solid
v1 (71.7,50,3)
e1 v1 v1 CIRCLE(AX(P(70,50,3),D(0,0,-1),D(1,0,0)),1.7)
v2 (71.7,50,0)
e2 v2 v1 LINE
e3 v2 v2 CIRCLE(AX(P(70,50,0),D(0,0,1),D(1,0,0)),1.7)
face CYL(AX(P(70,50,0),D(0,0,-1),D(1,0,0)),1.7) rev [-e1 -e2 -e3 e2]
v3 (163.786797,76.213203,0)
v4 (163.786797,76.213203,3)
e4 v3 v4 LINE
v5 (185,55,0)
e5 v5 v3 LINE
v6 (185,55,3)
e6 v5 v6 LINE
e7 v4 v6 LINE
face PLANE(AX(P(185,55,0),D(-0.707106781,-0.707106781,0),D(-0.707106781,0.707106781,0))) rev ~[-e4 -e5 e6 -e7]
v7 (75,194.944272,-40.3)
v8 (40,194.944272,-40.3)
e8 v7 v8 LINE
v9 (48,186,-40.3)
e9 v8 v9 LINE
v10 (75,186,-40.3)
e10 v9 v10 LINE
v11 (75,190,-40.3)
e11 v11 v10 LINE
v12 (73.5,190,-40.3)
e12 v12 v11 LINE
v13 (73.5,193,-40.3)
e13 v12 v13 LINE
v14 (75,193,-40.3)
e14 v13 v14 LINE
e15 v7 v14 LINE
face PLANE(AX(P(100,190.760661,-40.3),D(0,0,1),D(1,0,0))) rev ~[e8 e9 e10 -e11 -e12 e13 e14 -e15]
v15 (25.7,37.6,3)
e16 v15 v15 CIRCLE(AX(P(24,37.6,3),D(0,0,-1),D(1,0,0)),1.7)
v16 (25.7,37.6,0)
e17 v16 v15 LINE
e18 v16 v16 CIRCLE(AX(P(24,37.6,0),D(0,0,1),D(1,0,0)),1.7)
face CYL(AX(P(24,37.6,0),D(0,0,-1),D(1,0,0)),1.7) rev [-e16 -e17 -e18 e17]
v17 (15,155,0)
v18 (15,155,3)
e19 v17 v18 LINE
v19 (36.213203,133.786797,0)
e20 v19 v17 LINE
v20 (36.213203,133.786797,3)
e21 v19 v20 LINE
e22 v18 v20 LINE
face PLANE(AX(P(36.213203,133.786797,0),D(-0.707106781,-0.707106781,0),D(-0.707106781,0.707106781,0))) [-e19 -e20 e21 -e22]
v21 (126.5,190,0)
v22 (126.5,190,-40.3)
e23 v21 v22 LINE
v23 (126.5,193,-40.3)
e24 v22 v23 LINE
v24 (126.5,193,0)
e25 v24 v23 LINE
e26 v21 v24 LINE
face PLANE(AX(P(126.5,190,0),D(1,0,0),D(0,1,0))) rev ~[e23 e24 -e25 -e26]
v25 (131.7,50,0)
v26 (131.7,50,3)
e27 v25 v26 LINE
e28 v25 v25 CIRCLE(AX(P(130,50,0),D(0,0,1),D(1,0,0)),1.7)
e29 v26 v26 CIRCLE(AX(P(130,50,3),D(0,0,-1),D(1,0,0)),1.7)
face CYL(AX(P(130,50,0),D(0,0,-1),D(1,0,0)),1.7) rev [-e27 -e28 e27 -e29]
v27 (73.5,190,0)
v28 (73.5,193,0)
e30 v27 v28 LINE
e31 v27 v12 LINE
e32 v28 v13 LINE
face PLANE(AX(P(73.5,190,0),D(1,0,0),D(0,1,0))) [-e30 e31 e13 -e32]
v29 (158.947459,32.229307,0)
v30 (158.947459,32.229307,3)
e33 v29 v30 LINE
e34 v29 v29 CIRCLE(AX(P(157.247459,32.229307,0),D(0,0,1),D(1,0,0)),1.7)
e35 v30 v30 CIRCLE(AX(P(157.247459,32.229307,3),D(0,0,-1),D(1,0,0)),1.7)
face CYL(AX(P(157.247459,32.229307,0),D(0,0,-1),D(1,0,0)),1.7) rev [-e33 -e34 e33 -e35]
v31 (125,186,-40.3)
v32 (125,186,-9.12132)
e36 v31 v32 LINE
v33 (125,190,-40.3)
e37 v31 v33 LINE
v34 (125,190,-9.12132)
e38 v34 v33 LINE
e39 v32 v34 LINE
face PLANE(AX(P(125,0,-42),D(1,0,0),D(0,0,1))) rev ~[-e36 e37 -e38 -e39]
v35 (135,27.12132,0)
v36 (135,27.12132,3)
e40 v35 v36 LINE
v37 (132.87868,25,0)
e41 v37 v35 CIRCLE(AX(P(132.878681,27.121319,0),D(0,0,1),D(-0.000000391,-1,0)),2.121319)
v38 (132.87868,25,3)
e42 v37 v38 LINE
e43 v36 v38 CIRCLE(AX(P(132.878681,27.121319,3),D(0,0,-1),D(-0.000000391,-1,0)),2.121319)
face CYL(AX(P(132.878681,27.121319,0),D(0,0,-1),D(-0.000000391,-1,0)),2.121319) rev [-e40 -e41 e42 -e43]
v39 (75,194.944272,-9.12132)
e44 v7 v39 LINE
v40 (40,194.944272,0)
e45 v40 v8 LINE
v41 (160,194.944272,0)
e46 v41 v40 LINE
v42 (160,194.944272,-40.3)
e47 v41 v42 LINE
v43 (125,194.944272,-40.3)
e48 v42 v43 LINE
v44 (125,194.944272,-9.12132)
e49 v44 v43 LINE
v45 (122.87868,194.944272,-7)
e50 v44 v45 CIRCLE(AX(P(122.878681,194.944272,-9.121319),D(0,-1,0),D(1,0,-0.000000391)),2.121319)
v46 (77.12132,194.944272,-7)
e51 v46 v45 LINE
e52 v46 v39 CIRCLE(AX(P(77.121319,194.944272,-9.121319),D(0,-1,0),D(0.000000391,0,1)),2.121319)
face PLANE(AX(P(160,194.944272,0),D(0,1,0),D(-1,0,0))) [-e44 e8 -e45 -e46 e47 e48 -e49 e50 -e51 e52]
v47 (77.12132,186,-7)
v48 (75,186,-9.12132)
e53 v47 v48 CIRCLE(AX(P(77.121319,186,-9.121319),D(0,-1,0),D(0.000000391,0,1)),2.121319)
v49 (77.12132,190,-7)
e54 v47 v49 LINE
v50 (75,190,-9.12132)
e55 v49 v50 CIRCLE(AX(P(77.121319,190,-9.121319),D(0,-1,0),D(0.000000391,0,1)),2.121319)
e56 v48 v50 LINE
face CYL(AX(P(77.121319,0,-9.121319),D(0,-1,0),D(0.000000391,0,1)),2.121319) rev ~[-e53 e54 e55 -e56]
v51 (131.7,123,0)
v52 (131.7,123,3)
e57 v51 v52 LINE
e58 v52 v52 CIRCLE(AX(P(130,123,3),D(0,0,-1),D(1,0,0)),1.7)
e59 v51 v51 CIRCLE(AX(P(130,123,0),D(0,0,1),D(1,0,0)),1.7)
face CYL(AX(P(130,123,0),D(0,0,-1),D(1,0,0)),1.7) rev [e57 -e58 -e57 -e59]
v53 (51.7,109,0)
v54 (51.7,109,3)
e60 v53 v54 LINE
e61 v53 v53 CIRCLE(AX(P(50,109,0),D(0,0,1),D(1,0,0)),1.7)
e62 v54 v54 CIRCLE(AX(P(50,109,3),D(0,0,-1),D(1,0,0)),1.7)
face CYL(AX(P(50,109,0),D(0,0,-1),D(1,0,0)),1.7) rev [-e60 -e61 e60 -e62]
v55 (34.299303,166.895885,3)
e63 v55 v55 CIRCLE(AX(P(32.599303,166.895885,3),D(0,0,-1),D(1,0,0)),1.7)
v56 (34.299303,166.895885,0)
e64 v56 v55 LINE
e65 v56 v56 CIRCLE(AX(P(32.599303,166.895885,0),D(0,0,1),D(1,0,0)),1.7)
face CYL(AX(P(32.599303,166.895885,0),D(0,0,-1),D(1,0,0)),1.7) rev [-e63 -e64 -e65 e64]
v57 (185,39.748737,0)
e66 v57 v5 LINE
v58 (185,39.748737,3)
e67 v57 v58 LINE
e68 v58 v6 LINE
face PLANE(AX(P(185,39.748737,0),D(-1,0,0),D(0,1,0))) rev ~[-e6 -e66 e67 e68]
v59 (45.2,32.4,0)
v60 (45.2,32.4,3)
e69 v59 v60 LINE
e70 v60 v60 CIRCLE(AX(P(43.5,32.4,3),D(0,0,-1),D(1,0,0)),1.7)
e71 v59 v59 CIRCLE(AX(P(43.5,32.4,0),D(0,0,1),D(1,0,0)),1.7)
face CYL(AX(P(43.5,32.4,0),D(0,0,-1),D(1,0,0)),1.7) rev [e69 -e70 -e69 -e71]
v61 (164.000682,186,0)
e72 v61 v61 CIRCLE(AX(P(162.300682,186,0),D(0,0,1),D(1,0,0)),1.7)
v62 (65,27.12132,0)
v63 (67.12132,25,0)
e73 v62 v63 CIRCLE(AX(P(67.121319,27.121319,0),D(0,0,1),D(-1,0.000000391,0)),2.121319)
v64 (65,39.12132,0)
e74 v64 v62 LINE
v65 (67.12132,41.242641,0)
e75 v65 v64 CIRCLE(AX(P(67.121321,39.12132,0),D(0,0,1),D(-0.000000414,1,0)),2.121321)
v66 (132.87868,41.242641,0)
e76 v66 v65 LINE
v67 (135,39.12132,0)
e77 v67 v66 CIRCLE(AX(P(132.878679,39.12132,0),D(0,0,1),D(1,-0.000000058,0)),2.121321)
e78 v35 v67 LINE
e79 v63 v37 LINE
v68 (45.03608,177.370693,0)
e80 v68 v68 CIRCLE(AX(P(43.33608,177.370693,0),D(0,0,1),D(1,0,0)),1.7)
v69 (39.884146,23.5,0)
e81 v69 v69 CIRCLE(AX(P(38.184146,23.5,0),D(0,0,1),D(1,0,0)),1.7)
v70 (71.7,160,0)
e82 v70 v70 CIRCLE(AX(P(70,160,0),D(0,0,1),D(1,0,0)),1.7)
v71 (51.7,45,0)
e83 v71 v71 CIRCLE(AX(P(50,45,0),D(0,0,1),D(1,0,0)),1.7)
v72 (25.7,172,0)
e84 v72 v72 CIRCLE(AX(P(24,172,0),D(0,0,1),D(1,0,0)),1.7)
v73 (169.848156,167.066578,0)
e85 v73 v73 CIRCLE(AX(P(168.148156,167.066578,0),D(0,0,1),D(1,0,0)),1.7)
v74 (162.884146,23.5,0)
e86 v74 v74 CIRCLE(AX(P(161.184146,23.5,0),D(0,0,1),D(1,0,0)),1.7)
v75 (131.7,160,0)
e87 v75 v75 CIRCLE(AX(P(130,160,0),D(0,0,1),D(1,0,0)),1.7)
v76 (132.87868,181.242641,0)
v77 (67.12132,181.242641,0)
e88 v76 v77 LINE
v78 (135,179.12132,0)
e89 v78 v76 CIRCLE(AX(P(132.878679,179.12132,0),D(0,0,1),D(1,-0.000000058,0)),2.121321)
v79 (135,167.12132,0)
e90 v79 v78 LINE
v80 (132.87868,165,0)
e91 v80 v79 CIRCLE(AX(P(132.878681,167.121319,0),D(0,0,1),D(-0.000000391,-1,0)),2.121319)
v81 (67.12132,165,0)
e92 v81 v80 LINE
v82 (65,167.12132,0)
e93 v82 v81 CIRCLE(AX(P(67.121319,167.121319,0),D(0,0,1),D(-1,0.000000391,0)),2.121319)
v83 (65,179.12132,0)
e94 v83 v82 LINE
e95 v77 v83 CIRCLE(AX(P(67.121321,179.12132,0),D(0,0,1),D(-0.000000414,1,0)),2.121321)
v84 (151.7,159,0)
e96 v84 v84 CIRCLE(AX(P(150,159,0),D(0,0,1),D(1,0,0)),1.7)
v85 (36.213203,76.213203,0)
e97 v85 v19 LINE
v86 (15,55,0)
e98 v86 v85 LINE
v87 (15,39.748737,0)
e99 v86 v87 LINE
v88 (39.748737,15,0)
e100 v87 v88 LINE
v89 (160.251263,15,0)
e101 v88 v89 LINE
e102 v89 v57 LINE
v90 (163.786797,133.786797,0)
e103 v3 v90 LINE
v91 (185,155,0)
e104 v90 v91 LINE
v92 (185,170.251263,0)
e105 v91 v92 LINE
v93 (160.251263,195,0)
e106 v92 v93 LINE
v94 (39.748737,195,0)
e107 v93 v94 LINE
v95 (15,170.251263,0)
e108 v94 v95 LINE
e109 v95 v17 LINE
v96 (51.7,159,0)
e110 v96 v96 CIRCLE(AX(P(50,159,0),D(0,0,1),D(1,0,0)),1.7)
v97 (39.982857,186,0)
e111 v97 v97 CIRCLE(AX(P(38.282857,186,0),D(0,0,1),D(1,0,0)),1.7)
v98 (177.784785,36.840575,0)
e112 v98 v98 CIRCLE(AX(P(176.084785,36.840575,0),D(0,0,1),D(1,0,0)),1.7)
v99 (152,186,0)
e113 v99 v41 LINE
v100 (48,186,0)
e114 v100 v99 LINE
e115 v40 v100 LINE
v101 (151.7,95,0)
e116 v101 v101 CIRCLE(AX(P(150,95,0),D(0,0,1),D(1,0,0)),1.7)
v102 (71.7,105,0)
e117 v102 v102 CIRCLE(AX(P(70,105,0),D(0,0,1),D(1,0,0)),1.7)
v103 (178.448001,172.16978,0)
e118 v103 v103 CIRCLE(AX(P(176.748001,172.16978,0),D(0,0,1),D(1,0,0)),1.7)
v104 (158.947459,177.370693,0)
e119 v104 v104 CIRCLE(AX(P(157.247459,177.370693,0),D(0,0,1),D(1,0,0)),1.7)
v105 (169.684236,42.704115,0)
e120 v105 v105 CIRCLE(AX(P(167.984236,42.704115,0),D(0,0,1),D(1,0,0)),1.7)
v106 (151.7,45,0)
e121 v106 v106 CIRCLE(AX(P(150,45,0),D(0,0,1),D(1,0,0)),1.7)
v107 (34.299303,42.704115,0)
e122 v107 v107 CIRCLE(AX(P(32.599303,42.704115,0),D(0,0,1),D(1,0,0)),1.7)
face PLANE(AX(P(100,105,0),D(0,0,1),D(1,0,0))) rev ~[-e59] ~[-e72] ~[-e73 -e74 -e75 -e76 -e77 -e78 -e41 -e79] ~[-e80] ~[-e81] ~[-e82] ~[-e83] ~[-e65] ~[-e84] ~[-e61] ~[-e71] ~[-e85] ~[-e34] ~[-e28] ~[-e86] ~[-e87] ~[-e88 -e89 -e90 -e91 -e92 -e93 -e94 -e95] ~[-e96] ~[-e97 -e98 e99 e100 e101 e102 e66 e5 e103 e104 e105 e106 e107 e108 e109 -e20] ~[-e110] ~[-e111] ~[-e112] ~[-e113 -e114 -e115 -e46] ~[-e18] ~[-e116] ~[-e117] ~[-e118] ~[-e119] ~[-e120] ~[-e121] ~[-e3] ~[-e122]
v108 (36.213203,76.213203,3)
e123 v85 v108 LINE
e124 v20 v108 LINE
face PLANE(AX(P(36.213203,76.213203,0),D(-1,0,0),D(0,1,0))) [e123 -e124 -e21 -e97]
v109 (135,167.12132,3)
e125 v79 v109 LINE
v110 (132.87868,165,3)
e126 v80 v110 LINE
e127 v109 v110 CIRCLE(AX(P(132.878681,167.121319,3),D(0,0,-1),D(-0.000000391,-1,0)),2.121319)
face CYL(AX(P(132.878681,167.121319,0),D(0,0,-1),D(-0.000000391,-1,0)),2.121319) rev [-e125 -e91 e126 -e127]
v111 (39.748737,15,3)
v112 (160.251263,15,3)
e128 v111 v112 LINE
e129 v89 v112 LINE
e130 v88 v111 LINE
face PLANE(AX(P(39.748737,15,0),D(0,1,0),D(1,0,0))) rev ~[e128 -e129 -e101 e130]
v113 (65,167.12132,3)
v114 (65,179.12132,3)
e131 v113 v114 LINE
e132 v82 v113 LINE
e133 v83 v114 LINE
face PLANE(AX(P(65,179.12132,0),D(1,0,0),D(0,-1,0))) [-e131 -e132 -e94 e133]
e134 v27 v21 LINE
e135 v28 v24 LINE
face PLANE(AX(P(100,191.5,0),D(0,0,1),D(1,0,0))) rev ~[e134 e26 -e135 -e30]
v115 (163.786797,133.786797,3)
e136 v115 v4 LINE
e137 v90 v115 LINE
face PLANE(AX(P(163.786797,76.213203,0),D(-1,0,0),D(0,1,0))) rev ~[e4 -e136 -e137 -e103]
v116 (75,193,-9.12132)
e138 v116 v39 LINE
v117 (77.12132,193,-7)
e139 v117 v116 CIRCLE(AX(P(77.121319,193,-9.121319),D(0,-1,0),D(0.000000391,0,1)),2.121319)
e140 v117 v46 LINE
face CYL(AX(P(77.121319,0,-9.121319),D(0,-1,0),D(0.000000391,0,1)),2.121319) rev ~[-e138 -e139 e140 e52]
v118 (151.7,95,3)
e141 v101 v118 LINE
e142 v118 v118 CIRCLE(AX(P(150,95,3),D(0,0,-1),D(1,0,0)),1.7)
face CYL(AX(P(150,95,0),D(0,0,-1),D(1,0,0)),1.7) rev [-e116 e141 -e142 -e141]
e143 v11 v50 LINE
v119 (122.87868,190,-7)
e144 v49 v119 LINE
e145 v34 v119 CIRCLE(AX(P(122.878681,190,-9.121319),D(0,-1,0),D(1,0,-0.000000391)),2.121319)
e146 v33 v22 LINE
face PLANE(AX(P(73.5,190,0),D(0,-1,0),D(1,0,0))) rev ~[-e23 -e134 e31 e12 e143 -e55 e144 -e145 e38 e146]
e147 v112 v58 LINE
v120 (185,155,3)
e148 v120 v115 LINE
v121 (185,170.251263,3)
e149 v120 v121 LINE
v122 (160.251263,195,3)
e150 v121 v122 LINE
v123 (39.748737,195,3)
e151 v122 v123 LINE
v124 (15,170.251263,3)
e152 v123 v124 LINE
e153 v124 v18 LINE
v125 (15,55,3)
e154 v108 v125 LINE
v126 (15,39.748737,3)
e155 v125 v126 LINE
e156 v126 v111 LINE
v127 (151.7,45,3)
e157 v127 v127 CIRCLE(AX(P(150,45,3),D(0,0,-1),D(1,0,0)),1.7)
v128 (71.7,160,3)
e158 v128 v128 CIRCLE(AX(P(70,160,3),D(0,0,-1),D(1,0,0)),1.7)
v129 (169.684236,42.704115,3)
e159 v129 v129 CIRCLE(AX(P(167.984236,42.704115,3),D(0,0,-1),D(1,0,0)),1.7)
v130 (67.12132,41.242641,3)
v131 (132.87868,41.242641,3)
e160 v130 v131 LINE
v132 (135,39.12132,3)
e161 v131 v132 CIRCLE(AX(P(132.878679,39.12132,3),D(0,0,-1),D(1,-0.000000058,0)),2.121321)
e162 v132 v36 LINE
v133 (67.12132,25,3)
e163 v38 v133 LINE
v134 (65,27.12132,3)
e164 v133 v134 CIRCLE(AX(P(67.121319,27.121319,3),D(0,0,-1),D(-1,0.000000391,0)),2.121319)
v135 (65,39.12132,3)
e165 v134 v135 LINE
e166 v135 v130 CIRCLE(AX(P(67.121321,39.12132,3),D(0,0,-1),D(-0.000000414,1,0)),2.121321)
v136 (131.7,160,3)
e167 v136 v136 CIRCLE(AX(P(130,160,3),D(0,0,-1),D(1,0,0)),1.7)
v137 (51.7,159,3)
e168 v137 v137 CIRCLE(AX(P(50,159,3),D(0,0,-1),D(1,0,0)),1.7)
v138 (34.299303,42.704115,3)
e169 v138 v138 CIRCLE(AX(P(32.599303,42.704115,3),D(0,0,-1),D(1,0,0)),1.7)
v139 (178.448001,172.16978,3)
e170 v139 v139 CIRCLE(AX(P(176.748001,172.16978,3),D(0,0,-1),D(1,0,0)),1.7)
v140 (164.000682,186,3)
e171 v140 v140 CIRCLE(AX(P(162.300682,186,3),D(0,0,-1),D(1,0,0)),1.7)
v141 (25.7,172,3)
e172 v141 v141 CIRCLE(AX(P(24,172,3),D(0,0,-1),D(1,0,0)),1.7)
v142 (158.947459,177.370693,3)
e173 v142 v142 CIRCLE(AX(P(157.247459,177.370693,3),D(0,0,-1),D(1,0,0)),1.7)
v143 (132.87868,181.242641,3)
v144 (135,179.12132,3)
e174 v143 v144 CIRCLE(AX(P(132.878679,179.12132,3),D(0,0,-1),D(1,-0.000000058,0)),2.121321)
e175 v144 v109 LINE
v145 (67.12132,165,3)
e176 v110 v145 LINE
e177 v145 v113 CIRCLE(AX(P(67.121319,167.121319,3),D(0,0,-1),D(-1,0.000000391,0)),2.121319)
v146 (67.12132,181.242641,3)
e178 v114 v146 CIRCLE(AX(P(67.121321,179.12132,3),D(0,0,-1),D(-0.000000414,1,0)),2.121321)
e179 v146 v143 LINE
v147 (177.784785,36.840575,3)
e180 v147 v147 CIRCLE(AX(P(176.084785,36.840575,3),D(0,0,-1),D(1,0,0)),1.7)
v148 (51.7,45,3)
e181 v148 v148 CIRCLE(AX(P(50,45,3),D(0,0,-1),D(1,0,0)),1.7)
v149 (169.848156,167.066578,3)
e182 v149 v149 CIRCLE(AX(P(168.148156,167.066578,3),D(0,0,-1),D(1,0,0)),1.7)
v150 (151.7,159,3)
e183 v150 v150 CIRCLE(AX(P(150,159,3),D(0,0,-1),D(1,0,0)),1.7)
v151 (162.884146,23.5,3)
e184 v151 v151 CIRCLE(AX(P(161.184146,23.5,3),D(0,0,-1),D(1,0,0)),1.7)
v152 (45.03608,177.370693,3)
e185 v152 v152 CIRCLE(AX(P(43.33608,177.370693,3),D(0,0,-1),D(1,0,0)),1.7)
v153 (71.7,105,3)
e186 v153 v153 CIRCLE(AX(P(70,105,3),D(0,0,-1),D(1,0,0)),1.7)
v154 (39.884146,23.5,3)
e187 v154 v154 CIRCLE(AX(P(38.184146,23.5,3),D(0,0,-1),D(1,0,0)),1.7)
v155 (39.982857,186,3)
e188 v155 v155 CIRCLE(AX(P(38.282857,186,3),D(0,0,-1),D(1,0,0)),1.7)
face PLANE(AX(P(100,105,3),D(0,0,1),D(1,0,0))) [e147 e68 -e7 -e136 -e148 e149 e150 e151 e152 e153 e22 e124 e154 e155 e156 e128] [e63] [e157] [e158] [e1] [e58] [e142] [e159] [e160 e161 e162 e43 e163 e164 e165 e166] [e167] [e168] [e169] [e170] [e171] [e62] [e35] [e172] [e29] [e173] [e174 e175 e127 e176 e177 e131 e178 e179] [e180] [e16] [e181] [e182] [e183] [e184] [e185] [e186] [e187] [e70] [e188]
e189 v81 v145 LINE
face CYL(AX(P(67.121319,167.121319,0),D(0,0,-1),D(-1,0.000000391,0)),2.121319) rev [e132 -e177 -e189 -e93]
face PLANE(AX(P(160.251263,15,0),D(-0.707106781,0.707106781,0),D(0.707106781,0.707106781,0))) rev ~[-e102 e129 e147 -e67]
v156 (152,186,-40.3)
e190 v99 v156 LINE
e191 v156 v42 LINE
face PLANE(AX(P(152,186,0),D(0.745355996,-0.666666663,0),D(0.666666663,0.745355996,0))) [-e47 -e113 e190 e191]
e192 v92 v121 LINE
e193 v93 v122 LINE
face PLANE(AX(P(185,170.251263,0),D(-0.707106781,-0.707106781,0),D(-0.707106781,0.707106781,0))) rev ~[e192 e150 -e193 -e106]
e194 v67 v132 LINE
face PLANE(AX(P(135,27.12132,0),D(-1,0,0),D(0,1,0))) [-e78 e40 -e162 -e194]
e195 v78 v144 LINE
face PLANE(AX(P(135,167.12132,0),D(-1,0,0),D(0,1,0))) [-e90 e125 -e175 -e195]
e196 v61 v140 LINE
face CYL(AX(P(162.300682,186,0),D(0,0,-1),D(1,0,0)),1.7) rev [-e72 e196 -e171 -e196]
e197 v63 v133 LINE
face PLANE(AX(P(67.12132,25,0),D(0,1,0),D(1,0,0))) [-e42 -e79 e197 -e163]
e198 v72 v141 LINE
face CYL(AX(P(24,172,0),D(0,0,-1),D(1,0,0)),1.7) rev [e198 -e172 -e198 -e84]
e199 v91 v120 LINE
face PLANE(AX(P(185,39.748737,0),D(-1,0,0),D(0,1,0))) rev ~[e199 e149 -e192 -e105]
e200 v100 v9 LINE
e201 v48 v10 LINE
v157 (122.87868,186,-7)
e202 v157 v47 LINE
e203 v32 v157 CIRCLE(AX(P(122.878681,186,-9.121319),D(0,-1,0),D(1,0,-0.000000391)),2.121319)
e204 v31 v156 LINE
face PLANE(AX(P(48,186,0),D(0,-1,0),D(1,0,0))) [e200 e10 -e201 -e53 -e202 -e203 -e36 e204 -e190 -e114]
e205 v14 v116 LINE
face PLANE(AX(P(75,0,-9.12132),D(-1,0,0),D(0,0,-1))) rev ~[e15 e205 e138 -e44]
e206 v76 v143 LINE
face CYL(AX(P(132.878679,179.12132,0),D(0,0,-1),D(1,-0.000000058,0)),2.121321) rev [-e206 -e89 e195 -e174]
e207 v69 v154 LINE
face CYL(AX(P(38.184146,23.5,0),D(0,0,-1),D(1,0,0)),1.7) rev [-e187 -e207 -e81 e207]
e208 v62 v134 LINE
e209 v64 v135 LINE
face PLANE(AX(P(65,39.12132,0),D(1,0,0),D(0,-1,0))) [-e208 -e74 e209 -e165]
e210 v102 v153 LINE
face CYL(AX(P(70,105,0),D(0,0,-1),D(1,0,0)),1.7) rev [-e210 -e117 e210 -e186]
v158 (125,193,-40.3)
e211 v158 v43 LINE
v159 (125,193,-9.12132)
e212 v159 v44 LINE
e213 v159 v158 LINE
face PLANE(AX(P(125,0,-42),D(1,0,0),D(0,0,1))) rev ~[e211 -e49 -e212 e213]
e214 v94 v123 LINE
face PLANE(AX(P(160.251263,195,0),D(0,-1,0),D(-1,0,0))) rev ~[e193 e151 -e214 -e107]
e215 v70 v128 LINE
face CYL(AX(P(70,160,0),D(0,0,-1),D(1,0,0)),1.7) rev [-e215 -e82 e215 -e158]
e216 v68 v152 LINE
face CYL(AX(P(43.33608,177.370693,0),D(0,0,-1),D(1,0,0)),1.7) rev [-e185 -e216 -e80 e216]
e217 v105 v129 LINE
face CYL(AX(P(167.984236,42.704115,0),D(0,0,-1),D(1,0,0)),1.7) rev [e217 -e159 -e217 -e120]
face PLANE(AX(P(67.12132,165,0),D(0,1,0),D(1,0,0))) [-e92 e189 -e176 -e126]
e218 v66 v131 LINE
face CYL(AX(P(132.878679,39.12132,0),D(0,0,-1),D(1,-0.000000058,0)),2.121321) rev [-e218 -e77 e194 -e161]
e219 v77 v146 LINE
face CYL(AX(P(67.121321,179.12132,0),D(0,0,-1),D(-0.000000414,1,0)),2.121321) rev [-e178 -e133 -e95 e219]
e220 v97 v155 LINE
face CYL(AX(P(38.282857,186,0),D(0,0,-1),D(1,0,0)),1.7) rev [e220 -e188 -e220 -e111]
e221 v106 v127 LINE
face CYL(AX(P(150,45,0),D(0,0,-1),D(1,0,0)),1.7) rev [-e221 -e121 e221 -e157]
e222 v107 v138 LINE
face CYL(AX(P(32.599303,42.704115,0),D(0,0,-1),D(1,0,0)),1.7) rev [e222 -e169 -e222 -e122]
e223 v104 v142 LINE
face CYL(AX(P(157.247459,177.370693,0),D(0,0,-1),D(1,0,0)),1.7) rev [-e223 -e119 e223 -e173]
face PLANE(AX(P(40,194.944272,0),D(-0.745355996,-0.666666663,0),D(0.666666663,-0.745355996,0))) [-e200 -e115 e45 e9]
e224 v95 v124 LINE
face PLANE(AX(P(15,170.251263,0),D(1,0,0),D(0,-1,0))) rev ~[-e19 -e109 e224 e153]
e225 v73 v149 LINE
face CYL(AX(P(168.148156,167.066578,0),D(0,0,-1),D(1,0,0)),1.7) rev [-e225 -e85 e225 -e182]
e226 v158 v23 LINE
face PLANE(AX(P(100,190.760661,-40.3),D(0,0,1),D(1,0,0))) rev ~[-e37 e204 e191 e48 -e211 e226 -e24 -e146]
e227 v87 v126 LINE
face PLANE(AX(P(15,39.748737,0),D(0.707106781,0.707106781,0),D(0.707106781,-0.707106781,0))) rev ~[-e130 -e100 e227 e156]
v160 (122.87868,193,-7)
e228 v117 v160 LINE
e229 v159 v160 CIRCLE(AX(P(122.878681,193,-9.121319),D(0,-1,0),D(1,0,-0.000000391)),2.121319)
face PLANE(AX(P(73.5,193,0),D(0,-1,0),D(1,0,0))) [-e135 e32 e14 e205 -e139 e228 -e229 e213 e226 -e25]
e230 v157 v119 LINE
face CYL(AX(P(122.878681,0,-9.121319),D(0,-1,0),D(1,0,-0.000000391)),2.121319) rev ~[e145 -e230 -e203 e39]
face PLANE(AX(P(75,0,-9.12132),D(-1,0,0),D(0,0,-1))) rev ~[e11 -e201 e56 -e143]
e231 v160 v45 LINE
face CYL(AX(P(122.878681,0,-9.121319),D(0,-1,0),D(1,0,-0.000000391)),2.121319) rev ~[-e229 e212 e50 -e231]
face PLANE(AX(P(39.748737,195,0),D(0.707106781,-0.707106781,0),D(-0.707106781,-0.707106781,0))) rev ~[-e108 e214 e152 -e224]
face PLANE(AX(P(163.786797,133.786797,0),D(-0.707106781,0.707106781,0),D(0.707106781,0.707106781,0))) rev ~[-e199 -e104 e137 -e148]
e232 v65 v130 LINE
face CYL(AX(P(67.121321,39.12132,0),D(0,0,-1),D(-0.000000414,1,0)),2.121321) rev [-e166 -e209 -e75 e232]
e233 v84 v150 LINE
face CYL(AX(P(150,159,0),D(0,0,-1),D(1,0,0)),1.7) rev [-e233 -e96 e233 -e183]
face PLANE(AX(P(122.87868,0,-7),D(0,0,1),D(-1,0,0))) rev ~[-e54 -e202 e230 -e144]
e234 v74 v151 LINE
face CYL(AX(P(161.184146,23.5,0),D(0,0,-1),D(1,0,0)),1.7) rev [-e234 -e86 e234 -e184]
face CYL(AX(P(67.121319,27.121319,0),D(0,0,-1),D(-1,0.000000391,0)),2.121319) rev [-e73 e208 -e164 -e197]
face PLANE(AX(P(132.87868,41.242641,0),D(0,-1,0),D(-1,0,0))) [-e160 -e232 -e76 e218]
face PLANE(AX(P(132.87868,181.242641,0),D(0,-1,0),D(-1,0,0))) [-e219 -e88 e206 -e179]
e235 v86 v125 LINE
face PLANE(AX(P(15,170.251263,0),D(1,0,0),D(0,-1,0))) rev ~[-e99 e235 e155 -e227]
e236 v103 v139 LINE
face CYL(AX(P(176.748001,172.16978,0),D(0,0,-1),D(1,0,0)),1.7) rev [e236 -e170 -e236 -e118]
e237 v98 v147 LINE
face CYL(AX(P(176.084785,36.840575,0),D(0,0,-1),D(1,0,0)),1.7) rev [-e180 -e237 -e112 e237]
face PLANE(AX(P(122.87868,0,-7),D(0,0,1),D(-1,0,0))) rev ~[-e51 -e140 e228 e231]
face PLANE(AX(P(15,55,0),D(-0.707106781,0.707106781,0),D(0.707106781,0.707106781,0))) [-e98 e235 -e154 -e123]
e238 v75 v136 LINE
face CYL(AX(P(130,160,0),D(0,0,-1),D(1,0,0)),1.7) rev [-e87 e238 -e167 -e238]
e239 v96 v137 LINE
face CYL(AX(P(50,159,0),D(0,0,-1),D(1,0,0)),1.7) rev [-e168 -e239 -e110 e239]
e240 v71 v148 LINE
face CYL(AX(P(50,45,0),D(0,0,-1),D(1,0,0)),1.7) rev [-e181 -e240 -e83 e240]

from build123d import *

# Parameters (mm, degrees)
PAD_DEPTH       = 3
PAD001_DEPTH    = 40.3
SKETCH001_R     = 1.7
HOLE_DEPTH      = 3.001
SKETCH003_R     = 1.7
HOLE001_DEPTH   = 3.001
POCKET_DEPTH    = 3.001
POCKET001_DEPTH = 195.001
SKETCH008_W     = 53
SKETCH008_H     = 3
POCKET002_DEPTH = 40.301
SKETCH009_R     = 1.7
HOLE003_DEPTH   = 3.001
POCKET003_DEPTH = 5


with BuildPart() as part:
    # Sketch → Pad (new body)
    with BuildSketch(Plane.XY):
        Polygon((15, 39.748737), (39.748737, 15), (160.251263, 15), (185, 39.748737), (185, 170.251263), (160.251263, 195), (39.748737, 195), (15, 170.251263), align=None)
    extrude(amount=PAD_DEPTH)

    # Sketch002 → Pad001 (join)
    with BuildSketch(Plane.XY):
        Polygon((40, 194.944272), (48, 186), (152, 186), (160, 194.944272), align=None)
    extrude(amount=-PAD001_DEPTH)

    # Sketch001 → Hole (cut, through all)
    with BuildSketch(Plane.XY):
        with Locations((32.599303, 42.704115)):
            Circle(SKETCH001_R)
        with Locations((43.5, 32.4)):
            Circle(SKETCH001_R)
        with Locations((24, 37.6)):
            Circle(SKETCH001_R)
        with Locations((38.184146, 23.5)):
            Circle(SKETCH001_R)
        with Locations((161.184146, 23.5)):
            Circle(SKETCH001_R)
        with Locations((176.084785, 36.840575)):
            Circle(SKETCH001_R)
        with Locations((167.984236, 42.704115)):
            Circle(SKETCH001_R)
        with Locations((168.148156, 167.066578)):
            Circle(SKETCH001_R)
        with Locations((157.247459, 177.370693)):
            Circle(SKETCH001_R)
        with Locations((162.300682, 186)):
            Circle(SKETCH001_R)
        with Locations((176.748001, 172.16978)):
            Circle(SKETCH001_R)
        with Locations((32.599303, 166.895885)):
            Circle(SKETCH001_R)
        with Locations((43.33608, 177.370693)):
            Circle(SKETCH001_R)
        with Locations((38.282857, 186)):
            Circle(SKETCH001_R)
        with Locations((24, 172)):
            Circle(SKETCH001_R)
        with Locations((157.247459, 32.229307)):
            Circle(SKETCH001_R)
    extrude(amount=HOLE_DEPTH, mode=Mode.SUBTRACT)

    # Sketch003 → Hole001 (cut, through all)
    with BuildSketch(Plane.XY):
        with Locations((70, 160)):
            Circle(SKETCH003_R)
        with Locations((130, 160)):
            Circle(SKETCH003_R)
        with Locations((70, 50)):
            Circle(SKETCH003_R)
        with Locations((130, 50)):
            Circle(SKETCH003_R)
        with Locations((70, 105)):
            Circle(SKETCH003_R)
        with Locations((130, 123)):
            Circle(SKETCH003_R)
    extrude(amount=HOLE001_DEPTH, mode=Mode.SUBTRACT)

    # Sketch006 → Pocket (cut, through all)
    with BuildSketch(Plane.XY):
        with BuildLine():
            Line((65, 179.12132), (65, 167.12132))
            ThreePointArc((65, 167.12132), (65.62132, 165.62132), (67.12132, 165))
            Line((67.12132, 165), (132.87868, 165))
            ThreePointArc((132.87868, 165), (134.37868, 165.62132), (135, 167.12132))
            Line((135, 167.12132), (135, 179.12132))
            ThreePointArc((135, 179.12132), (134.37868, 180.62132), (132.87868, 181.242641))
            Line((132.87868, 181.242641), (67.12132, 181.242641))
            ThreePointArc((67.12132, 181.242641), (65.62132, 180.62132), (65, 179.12132))
        make_face()
        with BuildLine():
            Line((65, 39.12132), (65, 27.12132))
            ThreePointArc((65, 27.12132), (65.62132, 25.62132), (67.12132, 25))
            Line((67.12132, 25), (132.87868, 25))
            ThreePointArc((132.87868, 25), (134.37868, 25.62132), (135, 27.12132))
            Line((135, 27.12132), (135, 39.12132))
            ThreePointArc((135, 39.12132), (134.37868, 40.62132), (132.87868, 41.242641))
            Line((132.87868, 41.242641), (67.12132, 41.242641))
            ThreePointArc((67.12132, 41.242641), (65.62132, 40.62132), (65, 39.12132))
        make_face()
    extrude(amount=POCKET_DEPTH, mode=Mode.SUBTRACT)

    # Sketch007 → Pocket001 (cut, through all)
    with BuildSketch(Plane.XZ):
        with BuildLine():
            Line((75, -42), (125, -42))
            Line((125, -42), (125, -9.12132))
            ThreePointArc((125, -9.12132), (124.37868, -7.62132), (122.87868, -7))
            Line((122.87868, -7), (77.12132, -7))
            ThreePointArc((77.12132, -7), (75.62132, -7.62132), (75, -9.12132))
            Line((75, -9.12132), (75, -42))
        make_face()
    extrude(amount=-POCKET001_DEPTH, mode=Mode.SUBTRACT)

    # Sketch008 → Pocket002 (cut, through all)
    with BuildSketch(Plane.XY):
        with Locations((100, 191.5)):
            Rectangle(SKETCH008_W, SKETCH008_H)
    extrude(amount=-POCKET002_DEPTH, mode=Mode.SUBTRACT)

    # Sketch009 → Hole003 (cut, through all)
    with BuildSketch(Plane.XY):
        with Locations((50, 45)):
            Circle(SKETCH009_R)
        with Locations((150, 45)):
            Circle(SKETCH009_R)
        with Locations((150, 95)):
            Circle(SKETCH009_R)
        with Locations((50, 109)):
            Circle(SKETCH009_R)
        with Locations((50, 159)):
            Circle(SKETCH009_R)
        with Locations((150, 159)):
            Circle(SKETCH009_R)
    extrude(amount=HOLE003_DEPTH, mode=Mode.SUBTRACT)

    # Sketch010 → Pocket003 (cut)
    with BuildSketch(Plane.XY):
        Polygon((15, 55), (36.213203, 76.213203), (36.213203, 133.786797), (15, 155), align=None)
        Polygon((185, 55), (163.786797, 76.213203), (163.786797, 133.786797), (185, 155), align=None)
    extrude(amount=POCKET003_DEPTH, mode=Mode.SUBTRACT)


solid = part.part
